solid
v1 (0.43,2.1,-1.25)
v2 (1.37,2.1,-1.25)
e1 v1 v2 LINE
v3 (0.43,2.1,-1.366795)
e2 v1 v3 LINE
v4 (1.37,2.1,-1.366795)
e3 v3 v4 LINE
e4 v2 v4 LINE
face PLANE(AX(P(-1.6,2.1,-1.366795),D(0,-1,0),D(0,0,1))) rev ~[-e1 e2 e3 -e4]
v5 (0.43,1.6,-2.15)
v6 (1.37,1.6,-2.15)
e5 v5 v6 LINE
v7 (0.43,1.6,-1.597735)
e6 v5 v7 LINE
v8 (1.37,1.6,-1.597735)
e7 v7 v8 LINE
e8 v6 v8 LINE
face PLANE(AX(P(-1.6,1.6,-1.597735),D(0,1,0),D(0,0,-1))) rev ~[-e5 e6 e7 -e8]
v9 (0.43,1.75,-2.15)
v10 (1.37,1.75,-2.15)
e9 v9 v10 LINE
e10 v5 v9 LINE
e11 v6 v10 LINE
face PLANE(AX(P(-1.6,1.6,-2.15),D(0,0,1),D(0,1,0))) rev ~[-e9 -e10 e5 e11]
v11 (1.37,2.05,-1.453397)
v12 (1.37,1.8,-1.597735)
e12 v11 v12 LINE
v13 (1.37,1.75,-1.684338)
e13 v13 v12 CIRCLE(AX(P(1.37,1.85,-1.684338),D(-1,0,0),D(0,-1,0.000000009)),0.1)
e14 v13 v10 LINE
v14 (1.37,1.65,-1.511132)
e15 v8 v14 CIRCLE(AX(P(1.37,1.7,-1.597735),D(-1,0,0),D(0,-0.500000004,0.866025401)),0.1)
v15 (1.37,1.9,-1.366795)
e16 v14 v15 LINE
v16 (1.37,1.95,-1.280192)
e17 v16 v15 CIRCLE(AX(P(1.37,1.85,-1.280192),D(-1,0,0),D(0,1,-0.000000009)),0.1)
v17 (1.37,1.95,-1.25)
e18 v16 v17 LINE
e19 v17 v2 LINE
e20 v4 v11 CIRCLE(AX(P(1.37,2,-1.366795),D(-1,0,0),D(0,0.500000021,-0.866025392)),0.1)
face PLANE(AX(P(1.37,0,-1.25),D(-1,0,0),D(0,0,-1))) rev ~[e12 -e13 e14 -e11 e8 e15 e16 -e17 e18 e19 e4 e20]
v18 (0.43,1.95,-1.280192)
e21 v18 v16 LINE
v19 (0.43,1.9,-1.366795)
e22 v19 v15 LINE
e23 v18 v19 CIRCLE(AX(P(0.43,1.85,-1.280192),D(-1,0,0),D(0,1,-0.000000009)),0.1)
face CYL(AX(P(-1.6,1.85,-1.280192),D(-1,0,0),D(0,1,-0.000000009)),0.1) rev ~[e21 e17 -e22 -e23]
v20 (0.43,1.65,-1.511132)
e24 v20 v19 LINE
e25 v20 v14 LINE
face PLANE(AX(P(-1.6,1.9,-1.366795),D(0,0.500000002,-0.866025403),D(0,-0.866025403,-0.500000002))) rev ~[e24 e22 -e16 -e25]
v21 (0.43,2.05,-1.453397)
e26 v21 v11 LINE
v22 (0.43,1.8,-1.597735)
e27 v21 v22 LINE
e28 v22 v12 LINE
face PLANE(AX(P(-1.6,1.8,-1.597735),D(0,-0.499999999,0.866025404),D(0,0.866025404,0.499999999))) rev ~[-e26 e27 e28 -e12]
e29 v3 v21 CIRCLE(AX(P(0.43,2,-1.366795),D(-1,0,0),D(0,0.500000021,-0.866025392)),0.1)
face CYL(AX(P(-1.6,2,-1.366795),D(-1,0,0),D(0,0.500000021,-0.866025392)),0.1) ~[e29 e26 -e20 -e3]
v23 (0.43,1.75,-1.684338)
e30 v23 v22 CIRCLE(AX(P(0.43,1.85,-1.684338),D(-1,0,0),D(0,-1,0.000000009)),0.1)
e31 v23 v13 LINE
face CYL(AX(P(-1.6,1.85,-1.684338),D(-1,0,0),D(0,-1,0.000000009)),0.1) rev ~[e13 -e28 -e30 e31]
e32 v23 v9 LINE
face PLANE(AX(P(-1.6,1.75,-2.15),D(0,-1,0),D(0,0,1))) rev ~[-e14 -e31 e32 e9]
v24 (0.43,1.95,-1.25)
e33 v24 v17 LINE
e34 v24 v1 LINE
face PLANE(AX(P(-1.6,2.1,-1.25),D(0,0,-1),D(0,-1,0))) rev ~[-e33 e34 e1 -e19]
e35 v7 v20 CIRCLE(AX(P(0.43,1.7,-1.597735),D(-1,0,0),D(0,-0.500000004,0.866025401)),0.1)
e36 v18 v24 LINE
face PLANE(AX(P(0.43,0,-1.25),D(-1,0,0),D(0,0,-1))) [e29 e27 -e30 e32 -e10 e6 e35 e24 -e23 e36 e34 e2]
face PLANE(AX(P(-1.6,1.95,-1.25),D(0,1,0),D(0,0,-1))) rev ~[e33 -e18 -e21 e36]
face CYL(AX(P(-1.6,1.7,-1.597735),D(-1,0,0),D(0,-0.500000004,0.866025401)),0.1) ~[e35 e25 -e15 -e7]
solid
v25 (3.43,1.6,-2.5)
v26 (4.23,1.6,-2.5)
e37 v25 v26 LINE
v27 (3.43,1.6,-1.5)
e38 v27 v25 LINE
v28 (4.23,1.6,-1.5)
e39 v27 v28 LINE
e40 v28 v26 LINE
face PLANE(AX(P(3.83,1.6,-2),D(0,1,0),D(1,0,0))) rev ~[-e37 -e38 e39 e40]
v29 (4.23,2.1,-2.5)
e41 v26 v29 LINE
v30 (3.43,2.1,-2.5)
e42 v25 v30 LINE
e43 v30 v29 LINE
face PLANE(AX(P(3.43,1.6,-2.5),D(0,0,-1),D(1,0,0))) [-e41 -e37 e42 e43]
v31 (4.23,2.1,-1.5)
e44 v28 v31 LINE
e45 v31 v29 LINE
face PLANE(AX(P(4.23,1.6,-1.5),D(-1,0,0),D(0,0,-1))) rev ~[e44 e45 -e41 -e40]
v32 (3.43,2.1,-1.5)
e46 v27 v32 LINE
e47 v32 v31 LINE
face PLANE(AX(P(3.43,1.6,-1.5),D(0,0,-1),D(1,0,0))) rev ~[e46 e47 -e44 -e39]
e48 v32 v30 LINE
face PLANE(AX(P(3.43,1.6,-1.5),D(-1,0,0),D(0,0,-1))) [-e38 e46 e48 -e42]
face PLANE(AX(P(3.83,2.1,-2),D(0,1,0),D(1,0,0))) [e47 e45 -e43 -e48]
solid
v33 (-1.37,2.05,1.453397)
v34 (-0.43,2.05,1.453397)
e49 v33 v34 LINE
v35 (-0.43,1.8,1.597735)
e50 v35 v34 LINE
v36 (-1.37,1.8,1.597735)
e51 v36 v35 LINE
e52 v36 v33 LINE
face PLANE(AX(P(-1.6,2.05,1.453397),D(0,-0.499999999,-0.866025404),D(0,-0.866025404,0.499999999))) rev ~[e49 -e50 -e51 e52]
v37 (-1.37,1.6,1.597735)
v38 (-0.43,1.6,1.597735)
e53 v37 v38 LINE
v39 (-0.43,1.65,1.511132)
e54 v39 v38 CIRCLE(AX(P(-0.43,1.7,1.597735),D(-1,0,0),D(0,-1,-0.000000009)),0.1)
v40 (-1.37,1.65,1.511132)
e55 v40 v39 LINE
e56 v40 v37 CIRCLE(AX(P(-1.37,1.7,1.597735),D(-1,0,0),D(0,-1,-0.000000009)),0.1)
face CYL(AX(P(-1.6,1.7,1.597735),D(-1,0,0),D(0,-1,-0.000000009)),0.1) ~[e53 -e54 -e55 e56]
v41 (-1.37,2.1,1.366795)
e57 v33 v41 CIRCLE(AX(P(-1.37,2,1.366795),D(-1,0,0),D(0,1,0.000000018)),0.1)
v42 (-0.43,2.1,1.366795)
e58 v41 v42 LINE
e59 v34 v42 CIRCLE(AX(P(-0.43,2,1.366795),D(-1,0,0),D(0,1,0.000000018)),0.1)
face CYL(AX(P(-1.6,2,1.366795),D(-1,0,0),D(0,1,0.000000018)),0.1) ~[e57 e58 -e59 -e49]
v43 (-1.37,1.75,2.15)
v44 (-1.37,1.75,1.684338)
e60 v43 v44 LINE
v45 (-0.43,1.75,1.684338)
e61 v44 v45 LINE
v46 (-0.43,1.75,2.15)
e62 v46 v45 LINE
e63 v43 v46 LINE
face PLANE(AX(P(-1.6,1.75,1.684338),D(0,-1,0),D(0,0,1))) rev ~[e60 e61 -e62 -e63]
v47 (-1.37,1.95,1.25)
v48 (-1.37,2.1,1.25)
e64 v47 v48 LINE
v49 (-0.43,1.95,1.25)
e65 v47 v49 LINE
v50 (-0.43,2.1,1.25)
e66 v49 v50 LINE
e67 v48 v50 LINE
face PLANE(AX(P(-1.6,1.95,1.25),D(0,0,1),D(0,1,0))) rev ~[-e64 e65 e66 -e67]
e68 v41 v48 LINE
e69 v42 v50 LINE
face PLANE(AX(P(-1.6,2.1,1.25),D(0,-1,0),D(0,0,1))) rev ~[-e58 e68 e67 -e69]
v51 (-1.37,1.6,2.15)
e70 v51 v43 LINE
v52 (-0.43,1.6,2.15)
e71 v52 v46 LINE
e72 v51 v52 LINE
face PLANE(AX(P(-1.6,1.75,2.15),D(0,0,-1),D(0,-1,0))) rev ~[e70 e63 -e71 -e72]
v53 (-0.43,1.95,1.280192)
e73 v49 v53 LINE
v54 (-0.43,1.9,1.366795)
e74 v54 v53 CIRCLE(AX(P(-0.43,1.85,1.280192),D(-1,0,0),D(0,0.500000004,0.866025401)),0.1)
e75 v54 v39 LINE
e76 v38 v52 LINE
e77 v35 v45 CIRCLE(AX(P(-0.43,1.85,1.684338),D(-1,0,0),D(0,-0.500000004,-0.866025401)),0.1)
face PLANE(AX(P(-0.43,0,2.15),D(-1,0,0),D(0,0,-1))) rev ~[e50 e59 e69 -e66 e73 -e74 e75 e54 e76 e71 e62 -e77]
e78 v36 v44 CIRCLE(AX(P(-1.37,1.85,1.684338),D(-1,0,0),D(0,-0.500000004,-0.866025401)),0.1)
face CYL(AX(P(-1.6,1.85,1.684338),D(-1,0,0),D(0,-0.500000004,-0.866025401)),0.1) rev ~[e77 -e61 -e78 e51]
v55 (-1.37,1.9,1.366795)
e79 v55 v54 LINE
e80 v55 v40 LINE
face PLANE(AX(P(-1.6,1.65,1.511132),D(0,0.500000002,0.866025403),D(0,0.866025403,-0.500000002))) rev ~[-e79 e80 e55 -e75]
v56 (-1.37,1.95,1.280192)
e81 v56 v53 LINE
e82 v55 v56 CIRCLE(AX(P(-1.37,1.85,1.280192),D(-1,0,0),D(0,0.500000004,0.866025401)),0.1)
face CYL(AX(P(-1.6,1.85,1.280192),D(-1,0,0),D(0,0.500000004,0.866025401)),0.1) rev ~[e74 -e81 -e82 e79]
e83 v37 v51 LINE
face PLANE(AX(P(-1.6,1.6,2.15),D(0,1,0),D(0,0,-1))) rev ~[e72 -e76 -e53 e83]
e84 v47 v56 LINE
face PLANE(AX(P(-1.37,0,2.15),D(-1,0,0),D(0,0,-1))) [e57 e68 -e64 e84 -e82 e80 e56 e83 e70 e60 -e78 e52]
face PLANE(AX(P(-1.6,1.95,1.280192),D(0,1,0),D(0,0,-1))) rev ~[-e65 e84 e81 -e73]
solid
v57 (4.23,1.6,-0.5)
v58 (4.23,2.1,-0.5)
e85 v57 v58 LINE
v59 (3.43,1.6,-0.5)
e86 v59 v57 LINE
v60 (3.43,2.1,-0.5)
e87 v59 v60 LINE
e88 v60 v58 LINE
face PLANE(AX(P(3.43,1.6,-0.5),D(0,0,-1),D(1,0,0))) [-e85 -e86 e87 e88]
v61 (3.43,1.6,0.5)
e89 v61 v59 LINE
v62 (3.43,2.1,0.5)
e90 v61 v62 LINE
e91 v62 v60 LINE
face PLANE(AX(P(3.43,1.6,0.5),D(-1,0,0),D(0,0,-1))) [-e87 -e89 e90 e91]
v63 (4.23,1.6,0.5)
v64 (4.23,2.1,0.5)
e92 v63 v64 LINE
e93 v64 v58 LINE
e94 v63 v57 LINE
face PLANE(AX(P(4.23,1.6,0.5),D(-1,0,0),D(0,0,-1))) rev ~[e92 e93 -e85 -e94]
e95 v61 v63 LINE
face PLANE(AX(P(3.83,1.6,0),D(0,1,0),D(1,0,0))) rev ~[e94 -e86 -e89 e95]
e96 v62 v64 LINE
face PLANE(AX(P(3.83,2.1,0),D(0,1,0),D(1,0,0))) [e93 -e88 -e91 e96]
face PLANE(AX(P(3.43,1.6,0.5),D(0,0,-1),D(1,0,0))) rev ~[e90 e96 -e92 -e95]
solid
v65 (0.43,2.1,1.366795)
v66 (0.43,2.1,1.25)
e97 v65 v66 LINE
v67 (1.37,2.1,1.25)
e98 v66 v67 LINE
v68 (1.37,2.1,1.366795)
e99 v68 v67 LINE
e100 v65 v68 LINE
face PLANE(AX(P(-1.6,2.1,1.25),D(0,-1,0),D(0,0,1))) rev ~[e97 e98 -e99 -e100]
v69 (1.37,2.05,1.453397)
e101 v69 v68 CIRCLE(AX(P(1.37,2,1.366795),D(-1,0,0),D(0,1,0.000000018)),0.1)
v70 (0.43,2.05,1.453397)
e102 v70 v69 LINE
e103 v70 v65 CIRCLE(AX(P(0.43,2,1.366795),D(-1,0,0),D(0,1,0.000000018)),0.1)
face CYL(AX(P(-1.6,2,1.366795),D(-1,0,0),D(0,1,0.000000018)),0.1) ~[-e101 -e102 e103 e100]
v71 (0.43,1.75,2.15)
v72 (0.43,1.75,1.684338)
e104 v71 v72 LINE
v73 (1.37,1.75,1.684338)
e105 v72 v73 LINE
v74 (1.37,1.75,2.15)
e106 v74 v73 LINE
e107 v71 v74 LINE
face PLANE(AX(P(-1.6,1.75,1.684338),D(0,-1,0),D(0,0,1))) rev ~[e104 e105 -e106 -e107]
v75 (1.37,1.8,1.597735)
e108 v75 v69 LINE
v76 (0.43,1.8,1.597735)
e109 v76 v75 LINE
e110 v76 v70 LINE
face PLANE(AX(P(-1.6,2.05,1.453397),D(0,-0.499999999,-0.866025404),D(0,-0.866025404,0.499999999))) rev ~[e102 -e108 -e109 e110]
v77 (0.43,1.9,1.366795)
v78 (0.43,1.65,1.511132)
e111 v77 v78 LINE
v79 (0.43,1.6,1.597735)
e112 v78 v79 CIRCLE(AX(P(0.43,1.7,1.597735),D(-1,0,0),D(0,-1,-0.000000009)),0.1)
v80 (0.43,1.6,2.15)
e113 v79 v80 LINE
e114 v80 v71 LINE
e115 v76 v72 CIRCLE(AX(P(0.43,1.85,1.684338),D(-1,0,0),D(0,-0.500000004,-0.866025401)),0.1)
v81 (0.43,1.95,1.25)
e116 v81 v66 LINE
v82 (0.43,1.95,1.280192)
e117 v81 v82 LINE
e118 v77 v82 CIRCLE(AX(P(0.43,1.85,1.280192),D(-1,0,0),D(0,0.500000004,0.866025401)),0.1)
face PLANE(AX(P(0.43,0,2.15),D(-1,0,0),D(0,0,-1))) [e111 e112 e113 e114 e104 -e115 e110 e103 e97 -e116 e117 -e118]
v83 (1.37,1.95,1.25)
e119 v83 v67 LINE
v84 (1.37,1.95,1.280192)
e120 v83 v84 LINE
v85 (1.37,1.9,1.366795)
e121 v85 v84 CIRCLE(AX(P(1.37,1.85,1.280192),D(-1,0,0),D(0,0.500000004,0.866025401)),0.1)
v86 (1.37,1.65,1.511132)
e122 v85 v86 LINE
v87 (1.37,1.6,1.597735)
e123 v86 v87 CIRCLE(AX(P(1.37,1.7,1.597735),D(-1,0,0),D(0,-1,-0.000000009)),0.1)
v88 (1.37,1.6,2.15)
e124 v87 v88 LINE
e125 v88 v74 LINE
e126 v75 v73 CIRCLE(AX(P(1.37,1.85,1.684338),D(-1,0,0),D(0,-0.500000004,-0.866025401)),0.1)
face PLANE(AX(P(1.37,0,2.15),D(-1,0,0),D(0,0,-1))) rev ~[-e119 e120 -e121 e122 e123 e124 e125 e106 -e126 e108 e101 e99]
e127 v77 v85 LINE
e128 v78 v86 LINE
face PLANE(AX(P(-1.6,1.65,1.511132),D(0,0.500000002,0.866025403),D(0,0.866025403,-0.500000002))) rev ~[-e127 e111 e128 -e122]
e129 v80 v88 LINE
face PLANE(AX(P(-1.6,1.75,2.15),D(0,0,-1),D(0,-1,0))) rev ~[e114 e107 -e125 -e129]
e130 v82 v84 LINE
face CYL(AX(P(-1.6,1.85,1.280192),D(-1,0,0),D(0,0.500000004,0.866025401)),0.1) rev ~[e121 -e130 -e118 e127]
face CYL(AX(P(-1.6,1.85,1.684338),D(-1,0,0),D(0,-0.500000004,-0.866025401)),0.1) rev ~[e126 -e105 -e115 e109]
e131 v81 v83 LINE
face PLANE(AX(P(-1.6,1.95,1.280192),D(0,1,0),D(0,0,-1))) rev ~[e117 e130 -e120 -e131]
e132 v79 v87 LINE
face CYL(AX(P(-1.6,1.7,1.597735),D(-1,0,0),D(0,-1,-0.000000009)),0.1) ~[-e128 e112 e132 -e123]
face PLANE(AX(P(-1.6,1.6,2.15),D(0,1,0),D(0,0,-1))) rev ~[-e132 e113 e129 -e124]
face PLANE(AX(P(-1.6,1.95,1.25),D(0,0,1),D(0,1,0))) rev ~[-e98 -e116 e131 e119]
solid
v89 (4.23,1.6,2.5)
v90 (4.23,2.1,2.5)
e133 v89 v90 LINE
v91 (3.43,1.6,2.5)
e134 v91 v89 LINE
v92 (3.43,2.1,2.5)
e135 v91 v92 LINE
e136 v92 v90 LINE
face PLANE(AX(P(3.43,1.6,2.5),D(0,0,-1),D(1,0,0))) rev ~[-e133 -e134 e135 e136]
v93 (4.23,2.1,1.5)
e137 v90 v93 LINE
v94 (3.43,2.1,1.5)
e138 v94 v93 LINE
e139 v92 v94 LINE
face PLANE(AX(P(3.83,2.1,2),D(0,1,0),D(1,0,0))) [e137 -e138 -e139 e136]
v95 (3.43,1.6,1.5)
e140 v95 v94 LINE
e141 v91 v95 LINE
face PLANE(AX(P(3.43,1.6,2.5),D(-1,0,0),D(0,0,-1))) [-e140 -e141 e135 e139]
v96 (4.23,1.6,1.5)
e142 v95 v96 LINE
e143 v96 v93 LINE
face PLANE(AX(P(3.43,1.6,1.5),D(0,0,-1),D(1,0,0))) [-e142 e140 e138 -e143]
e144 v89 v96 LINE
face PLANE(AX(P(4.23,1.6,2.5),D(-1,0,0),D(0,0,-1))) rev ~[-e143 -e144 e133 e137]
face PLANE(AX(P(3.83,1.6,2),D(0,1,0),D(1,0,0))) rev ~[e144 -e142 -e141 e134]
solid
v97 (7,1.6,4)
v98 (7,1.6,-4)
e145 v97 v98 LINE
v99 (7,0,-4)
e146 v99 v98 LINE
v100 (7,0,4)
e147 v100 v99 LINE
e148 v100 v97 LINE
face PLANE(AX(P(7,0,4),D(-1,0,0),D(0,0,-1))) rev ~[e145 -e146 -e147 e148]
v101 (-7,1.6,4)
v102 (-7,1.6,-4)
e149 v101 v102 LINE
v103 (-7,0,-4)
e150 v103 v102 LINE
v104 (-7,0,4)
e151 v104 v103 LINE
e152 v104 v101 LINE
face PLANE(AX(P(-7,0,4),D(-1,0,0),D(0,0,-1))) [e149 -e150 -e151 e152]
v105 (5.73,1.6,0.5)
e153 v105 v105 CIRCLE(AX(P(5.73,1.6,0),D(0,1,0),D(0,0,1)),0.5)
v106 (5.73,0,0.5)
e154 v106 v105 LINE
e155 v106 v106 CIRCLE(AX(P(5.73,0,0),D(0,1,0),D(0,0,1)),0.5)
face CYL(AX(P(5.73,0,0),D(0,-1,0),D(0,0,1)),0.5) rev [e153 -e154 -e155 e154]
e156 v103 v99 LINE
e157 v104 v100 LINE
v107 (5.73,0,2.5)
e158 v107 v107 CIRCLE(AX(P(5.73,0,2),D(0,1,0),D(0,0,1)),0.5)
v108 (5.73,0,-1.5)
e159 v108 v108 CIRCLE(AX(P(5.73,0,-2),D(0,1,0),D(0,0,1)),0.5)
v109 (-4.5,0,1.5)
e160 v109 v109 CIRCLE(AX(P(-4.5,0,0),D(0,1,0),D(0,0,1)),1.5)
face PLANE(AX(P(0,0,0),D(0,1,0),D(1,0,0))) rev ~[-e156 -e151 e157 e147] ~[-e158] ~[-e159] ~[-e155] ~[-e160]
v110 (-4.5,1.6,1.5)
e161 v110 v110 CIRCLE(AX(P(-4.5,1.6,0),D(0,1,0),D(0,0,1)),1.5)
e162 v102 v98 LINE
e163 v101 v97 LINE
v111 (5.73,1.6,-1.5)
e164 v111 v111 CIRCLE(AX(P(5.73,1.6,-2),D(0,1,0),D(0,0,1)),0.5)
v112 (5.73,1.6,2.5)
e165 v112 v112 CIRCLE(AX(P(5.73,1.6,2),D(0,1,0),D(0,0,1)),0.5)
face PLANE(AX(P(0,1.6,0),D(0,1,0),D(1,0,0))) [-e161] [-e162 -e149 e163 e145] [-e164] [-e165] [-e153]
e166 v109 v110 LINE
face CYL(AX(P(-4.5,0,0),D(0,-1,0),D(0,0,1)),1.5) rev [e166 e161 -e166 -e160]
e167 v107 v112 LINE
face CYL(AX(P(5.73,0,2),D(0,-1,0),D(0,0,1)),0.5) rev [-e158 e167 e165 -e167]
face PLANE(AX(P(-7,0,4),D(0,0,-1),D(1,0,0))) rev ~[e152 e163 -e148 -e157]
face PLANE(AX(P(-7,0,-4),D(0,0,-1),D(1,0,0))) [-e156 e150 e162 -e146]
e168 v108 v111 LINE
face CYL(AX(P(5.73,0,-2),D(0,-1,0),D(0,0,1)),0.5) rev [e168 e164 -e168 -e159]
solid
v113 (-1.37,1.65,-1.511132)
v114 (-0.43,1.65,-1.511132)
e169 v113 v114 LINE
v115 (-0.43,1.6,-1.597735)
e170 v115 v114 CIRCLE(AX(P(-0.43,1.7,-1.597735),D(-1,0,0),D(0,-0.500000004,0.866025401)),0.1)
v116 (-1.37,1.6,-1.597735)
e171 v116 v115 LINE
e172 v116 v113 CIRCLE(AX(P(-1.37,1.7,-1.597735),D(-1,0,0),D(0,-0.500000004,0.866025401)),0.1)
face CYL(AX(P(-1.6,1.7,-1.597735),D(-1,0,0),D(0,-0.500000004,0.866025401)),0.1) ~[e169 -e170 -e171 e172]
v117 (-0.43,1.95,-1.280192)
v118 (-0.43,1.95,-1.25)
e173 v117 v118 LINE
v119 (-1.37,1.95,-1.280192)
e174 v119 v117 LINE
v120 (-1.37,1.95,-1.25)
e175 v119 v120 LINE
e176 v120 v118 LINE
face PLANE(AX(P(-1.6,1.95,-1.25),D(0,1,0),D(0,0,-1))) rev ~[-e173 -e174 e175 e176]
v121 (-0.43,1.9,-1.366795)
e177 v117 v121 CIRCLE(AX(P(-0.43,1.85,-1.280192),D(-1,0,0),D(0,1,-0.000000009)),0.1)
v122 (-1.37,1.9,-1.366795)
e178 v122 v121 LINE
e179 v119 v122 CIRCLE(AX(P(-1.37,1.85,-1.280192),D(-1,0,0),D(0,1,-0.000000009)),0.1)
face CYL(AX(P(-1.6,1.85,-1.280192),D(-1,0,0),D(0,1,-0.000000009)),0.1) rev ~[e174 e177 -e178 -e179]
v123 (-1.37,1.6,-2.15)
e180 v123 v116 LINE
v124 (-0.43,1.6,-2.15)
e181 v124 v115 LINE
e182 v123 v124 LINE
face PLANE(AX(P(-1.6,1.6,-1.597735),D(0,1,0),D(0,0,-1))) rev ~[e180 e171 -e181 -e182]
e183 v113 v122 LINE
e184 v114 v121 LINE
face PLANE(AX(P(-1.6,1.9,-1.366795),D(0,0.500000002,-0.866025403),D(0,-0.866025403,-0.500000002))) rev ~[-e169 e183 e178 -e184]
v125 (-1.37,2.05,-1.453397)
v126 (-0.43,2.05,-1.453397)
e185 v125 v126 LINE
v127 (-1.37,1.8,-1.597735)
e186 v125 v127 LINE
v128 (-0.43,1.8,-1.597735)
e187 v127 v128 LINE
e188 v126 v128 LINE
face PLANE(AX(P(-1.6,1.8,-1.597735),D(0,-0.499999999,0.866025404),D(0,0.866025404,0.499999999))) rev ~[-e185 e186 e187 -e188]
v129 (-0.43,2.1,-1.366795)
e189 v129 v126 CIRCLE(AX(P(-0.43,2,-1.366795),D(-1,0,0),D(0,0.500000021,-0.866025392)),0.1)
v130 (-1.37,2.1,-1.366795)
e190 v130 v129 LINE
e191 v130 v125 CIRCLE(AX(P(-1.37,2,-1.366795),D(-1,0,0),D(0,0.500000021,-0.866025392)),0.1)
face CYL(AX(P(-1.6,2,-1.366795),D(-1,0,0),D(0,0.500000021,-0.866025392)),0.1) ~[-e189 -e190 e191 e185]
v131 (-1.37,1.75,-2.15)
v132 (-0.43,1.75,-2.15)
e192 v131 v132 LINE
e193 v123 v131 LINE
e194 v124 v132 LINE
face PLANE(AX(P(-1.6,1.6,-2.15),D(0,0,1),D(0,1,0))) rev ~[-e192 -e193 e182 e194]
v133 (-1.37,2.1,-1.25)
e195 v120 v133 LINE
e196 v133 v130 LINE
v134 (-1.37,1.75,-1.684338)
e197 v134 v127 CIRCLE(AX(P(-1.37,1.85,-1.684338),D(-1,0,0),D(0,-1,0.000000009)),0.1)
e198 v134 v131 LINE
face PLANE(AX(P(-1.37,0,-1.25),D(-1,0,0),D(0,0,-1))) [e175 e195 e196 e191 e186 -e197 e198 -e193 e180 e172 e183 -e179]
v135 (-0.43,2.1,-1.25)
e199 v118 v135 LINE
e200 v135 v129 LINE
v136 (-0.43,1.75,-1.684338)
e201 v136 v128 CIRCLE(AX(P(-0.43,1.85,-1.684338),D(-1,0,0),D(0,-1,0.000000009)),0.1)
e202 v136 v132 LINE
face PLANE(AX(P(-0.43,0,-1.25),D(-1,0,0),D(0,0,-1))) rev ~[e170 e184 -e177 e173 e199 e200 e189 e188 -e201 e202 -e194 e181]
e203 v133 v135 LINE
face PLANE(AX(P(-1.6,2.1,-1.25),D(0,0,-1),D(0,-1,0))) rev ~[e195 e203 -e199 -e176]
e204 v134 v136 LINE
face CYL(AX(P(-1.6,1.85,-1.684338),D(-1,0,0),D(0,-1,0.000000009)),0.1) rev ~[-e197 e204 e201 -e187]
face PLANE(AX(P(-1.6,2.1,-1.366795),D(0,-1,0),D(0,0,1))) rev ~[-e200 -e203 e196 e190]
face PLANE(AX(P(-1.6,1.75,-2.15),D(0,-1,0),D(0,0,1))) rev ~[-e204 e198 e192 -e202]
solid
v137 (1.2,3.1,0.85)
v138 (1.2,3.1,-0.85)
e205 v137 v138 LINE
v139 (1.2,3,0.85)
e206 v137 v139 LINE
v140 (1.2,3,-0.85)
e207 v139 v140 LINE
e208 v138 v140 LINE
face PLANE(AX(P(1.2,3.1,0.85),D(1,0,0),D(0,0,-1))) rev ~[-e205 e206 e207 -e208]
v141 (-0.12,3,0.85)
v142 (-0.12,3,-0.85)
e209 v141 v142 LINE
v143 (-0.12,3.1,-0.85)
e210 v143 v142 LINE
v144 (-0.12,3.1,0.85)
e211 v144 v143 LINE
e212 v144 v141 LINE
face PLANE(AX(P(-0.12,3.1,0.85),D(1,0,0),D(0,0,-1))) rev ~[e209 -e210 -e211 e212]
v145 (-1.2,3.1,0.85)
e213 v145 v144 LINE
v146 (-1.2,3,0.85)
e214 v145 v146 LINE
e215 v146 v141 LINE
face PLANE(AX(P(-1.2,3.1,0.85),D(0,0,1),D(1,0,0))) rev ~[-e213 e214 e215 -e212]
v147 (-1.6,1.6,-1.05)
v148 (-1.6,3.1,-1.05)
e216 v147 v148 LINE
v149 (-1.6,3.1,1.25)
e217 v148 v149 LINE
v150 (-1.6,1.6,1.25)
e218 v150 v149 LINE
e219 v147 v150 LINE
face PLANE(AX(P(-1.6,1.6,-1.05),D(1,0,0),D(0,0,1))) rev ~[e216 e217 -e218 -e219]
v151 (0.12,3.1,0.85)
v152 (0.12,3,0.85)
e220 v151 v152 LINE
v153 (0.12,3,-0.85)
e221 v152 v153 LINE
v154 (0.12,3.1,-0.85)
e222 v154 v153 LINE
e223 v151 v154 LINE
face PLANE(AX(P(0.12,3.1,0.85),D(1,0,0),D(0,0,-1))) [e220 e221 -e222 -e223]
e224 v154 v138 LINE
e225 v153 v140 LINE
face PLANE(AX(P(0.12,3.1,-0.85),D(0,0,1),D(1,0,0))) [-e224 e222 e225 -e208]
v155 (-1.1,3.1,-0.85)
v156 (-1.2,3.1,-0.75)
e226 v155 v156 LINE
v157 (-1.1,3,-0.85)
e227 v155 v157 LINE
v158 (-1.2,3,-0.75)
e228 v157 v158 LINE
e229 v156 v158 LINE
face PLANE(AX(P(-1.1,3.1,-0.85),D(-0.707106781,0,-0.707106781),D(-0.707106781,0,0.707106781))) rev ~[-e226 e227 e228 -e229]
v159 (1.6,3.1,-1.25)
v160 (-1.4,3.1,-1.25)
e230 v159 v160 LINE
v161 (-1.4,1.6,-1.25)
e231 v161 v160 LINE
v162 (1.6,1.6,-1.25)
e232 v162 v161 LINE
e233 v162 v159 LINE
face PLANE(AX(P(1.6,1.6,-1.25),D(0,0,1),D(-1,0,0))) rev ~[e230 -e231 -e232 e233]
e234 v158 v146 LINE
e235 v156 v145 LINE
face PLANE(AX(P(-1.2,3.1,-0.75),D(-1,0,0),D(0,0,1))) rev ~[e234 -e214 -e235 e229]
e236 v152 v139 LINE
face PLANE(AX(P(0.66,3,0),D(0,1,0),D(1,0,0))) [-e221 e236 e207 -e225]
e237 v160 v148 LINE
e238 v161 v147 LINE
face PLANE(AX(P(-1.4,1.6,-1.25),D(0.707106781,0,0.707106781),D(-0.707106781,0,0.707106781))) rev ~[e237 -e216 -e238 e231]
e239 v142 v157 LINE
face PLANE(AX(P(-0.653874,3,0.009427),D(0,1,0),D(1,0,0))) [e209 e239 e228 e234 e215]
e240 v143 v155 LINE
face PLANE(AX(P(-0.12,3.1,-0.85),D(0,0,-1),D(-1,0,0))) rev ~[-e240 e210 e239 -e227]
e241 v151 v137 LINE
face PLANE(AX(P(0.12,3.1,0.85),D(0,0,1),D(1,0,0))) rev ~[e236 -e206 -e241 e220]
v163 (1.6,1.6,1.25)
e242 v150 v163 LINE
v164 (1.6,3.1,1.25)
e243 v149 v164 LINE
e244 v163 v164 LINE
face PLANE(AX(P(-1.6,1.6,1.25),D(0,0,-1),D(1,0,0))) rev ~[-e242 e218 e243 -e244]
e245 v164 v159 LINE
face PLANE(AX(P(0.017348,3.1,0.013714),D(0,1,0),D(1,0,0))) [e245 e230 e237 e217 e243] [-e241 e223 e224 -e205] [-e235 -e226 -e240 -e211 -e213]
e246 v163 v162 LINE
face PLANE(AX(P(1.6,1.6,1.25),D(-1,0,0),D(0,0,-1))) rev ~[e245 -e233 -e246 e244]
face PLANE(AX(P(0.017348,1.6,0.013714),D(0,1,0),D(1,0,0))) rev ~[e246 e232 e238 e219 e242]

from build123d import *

# Parameters (mm, degrees)
SKETCH1_W             = 14
SKETCH1_H             = 8
SKETCH1_R             = 1.5
SKETCH1_R_2           = 0.5
BOSS_EXTRUDE1_DEPTH   = 1.6
SKETCH2_W             = 0.8
SKETCH2_H             = 1
BOSS_EXTRUDE2_DEPTH   = 0.5
BOSS_EXTRUDE2_2_DEPTH = 0.5
BOSS_EXTRUDE2_3_DEPTH = 0.5
BOSS_EXTRUDE3_DEPTH   = 1.5
SKETCH4_W             = 1.08
SKETCH4_H             = 1.7
CUT_EXTRUDE1_DEPTH    = 0.1
BOSS_EXTRUDE4_DEPTH   = 3.2
BOSS_EXTRUDE4_2_DEPTH = 3.2
CUT_EXTRUDE2_START    = -3.1
SKETCH6_W             = 0.23
SKETCH6_H             = 0.9
SKETCH6_W_2           = 0.86
CUT_EXTRUDE2_DEPTH    = 3.1


with BuildPart() as part:
    # Sketch1 → Boss-Extrude1 (new body)
    with BuildSketch(Plane(origin=(0, 0, 0), x_dir=(1, 0, 0), z_dir=(0, 1, 0))):
        Rectangle(SKETCH1_W, SKETCH1_H)
        with Locations(Location((-4.5, 0, 0), (0, 0, 270))):
            Circle(SKETCH1_R, mode=Mode.SUBTRACT)
        with Locations(Location((5.73, 2, 0), (0, 0, 270))):
            Circle(SKETCH1_R_2, mode=Mode.SUBTRACT)
        with Locations(Location((5.73, -2, 0), (0, 0, 270))):
            Circle(SKETCH1_R_2, mode=Mode.SUBTRACT)
        with Locations(Location((5.73, 0, 0), (0, 0, 270))):
            Circle(SKETCH1_R_2, mode=Mode.SUBTRACT)
    extrude(amount=BOSS_EXTRUDE1_DEPTH)


with BuildPart() as body_2:
    # Sketch2 → Boss-Extrude2 (new body)
    with BuildSketch(Plane(origin=(0, 1.6, 0), x_dir=(1, 0, 0), z_dir=(0, 1, 0))):
        with Locations((3.83, 2)):
            Rectangle(SKETCH2_W, SKETCH2_H)
    extrude(amount=BOSS_EXTRUDE2_DEPTH)


with BuildPart() as body_3:
    # Sketch2 → Boss-Extrude2 2 (new body)
    with BuildSketch(Plane(origin=(0, 1.6, 0), x_dir=(1, 0, 0), z_dir=(0, 1, 0))):
        with Locations((3.83, 0)):
            Rectangle(SKETCH2_W, SKETCH2_H)
    extrude(amount=BOSS_EXTRUDE2_2_DEPTH)


with BuildPart() as body_4:
    # Sketch2 → Boss-Extrude2 3 (new body)
    with BuildSketch(Plane(origin=(0, 1.6, 0), x_dir=(1, 0, 0), z_dir=(0, 1, 0))):
        with Locations((3.83, -2)):
            Rectangle(SKETCH2_W, SKETCH2_H)
    extrude(amount=BOSS_EXTRUDE2_3_DEPTH)


with BuildPart() as body_5:
    # Sketch3 → Boss-Extrude3 (new body)
    with BuildSketch(Plane(origin=(0, 1.6, 0), x_dir=(1, 0, 0), z_dir=(0, 1, 0))):
        Polygon((1.6, 1.25), (-1.4, 1.25), (-1.6, 1.05), (-1.6, -1.25), (1.6, -1.25), align=None)
    extrude(amount=BOSS_EXTRUDE3_DEPTH)

    # Sketch4 → Cut-Extrude1 (cut)
    with BuildSketch(Plane(origin=(0, 3.1, 0), x_dir=(1, 0, 0), z_dir=(0, 1, 0))):
        with Locations((0.66, 0)):
            Rectangle(SKETCH4_W, SKETCH4_H)
        Polygon((-0.12, 0.85), (-1.1, 0.85), (-1.2, 0.75), (-1.2, -0.85), (-0.12, -0.85), align=None)
    extrude(amount=-CUT_EXTRUDE1_DEPTH, mode=Mode.SUBTRACT)


with BuildPart() as body_6:
    # Sketch5 → Boss-Extrude4 (new body)
    with BuildSketch(Plane.ZY.offset(1.6)):
        with BuildLine():
            Line((1.25, 2.1), (1.366794919, 2.1))
            ThreePointArc((1.366794919, 2.1), (1.416794919, 2.08660254), (1.45339746, 2.05))
            Line((1.45339746, 2.05), (1.597735027, 1.8))
            ThreePointArc((1.597735027, 1.8), (1.634337567, 1.76339746), (1.684337567, 1.75))
            Line((1.684337567, 1.75), (2.15, 1.75))
            Line((2.15, 1.75), (2.15, 1.6))
            Line((2.15, 1.6), (1.597735027, 1.6))
            ThreePointArc((1.597735027, 1.6), (1.547735027, 1.61339746), (1.511132487, 1.65))
            Line((1.511132487, 1.65), (1.366794919, 1.9))
            ThreePointArc((1.366794919, 1.9), (1.330192379, 1.93660254), (1.280192379, 1.95))
            Line((1.280192379, 1.95), (1.25, 1.95))
            Line((1.25, 1.95), (1.25, 2.1))
        make_face()
    extrude(amount=-BOSS_EXTRUDE4_DEPTH)


with BuildPart() as body_7:
    # Sketch5 → Boss-Extrude4 2 (new body)
    with BuildSketch(Plane.ZY.offset(1.6)):
        with BuildLine():
            Line((-1.25, 2.1), (-1.25, 1.95))
            Line((-1.25, 1.95), (-1.280192379, 1.95))
            ThreePointArc((-1.280192379, 1.95), (-1.330192379, 1.93660254), (-1.366794919, 1.9))
            Line((-1.366794919, 1.9), (-1.511132487, 1.65))
            ThreePointArc((-1.511132487, 1.65), (-1.547735027, 1.61339746), (-1.597735027, 1.6))
            Line((-1.597735027, 1.6), (-2.15, 1.6))
            Line((-2.15, 1.6), (-2.15, 1.75))
            Line((-2.15, 1.75), (-1.684337567, 1.75))
            ThreePointArc((-1.684337567, 1.75), (-1.634337567, 1.76339746), (-1.597735027, 1.8))
            Line((-1.597735027, 1.8), (-1.45339746, 2.05))
            ThreePointArc((-1.45339746, 2.05), (-1.416794919, 2.08660254), (-1.366794919, 2.1))
            Line((-1.366794919, 2.1), (-1.25, 2.1))
        make_face()
    extrude(amount=-BOSS_EXTRUDE4_2_DEPTH)


with BuildPart() as cut_extrude2_tool:
    # Sketch6 → Cut-Extrude2 (new body)
    with BuildSketch(Plane(origin=(0, 3.1, 0), x_dir=(1, 0, 0), z_dir=(0, 1, 0)).offset(CUT_EXTRUDE2_START)):
        with Locations((1.485, 1.7)):
            Rectangle(SKETCH6_W, SKETCH6_H)
        with Locations((0, 1.7)):
            Rectangle(SKETCH6_W_2, SKETCH6_H)
        with Locations((-1.485, 1.7)):
            Rectangle(SKETCH6_W, SKETCH6_H)
        with Locations((-1.485, -1.7)):
            Rectangle(SKETCH6_W, SKETCH6_H)
        with Locations((0, -1.7)):
            Rectangle(SKETCH6_W_2, SKETCH6_H)
        with Locations((1.485, -1.7)):
            Rectangle(SKETCH6_W, SKETCH6_H)
    extrude(amount=CUT_EXTRUDE2_DEPTH)


with BuildPart() as body_7_1:
    add(body_7.part)

    # Cut-Extrude2: cut by cut_extrude2_tool
    add(cut_extrude2_tool.part, mode=Mode.SUBTRACT)


with BuildPart() as body_6_1:
    add(body_6.part)

    # Cut-Extrude2: cut by cut_extrude2_tool
    add(cut_extrude2_tool.part, mode=Mode.SUBTRACT)


with BuildPart() as cut_extrude2_piece_1:
    # of the separate pieces the step leaves, piece 1, a body of its own (cut_extrude2_pieces)
    add(body_6_1.part.solids().sort_by_distance((-1.37, 2.1, 1.25))[0])


with BuildPart() as cut_extrude2_piece_2:
    # of the separate pieces the step leaves, piece 2, a body of its own (cut_extrude2_pieces)
    add(body_6_1.part.solids().sort_by_distance((0.43, 2.1, 1.25))[0])


with BuildPart() as cut_extrude2_piece_1_of_body_7:
    # of the separate pieces the step leaves, piece 1, a body of its own (cut_extrude2_pieces_of_body_7)
    add(body_7_1.part.solids().sort_by_distance((-1.37, 1.95, -1.25))[0])


with BuildPart() as cut_extrude2_piece_2_of_body_7:
    # of the separate pieces the step leaves, piece 2, a body of its own (cut_extrude2_pieces_of_body_7)
    add(body_7_1.part.solids().sort_by_distance((0.43, 1.95, -1.25))[0])


solid = Compound([part.part, body_2.part, body_3.part, body_4.part, body_5.part, cut_extrude2_piece_1.part, cut_extrude2_piece_2.part, cut_extrude2_piece_1_of_body_7.part, cut_extrude2_piece_2_of_body_7.part])
